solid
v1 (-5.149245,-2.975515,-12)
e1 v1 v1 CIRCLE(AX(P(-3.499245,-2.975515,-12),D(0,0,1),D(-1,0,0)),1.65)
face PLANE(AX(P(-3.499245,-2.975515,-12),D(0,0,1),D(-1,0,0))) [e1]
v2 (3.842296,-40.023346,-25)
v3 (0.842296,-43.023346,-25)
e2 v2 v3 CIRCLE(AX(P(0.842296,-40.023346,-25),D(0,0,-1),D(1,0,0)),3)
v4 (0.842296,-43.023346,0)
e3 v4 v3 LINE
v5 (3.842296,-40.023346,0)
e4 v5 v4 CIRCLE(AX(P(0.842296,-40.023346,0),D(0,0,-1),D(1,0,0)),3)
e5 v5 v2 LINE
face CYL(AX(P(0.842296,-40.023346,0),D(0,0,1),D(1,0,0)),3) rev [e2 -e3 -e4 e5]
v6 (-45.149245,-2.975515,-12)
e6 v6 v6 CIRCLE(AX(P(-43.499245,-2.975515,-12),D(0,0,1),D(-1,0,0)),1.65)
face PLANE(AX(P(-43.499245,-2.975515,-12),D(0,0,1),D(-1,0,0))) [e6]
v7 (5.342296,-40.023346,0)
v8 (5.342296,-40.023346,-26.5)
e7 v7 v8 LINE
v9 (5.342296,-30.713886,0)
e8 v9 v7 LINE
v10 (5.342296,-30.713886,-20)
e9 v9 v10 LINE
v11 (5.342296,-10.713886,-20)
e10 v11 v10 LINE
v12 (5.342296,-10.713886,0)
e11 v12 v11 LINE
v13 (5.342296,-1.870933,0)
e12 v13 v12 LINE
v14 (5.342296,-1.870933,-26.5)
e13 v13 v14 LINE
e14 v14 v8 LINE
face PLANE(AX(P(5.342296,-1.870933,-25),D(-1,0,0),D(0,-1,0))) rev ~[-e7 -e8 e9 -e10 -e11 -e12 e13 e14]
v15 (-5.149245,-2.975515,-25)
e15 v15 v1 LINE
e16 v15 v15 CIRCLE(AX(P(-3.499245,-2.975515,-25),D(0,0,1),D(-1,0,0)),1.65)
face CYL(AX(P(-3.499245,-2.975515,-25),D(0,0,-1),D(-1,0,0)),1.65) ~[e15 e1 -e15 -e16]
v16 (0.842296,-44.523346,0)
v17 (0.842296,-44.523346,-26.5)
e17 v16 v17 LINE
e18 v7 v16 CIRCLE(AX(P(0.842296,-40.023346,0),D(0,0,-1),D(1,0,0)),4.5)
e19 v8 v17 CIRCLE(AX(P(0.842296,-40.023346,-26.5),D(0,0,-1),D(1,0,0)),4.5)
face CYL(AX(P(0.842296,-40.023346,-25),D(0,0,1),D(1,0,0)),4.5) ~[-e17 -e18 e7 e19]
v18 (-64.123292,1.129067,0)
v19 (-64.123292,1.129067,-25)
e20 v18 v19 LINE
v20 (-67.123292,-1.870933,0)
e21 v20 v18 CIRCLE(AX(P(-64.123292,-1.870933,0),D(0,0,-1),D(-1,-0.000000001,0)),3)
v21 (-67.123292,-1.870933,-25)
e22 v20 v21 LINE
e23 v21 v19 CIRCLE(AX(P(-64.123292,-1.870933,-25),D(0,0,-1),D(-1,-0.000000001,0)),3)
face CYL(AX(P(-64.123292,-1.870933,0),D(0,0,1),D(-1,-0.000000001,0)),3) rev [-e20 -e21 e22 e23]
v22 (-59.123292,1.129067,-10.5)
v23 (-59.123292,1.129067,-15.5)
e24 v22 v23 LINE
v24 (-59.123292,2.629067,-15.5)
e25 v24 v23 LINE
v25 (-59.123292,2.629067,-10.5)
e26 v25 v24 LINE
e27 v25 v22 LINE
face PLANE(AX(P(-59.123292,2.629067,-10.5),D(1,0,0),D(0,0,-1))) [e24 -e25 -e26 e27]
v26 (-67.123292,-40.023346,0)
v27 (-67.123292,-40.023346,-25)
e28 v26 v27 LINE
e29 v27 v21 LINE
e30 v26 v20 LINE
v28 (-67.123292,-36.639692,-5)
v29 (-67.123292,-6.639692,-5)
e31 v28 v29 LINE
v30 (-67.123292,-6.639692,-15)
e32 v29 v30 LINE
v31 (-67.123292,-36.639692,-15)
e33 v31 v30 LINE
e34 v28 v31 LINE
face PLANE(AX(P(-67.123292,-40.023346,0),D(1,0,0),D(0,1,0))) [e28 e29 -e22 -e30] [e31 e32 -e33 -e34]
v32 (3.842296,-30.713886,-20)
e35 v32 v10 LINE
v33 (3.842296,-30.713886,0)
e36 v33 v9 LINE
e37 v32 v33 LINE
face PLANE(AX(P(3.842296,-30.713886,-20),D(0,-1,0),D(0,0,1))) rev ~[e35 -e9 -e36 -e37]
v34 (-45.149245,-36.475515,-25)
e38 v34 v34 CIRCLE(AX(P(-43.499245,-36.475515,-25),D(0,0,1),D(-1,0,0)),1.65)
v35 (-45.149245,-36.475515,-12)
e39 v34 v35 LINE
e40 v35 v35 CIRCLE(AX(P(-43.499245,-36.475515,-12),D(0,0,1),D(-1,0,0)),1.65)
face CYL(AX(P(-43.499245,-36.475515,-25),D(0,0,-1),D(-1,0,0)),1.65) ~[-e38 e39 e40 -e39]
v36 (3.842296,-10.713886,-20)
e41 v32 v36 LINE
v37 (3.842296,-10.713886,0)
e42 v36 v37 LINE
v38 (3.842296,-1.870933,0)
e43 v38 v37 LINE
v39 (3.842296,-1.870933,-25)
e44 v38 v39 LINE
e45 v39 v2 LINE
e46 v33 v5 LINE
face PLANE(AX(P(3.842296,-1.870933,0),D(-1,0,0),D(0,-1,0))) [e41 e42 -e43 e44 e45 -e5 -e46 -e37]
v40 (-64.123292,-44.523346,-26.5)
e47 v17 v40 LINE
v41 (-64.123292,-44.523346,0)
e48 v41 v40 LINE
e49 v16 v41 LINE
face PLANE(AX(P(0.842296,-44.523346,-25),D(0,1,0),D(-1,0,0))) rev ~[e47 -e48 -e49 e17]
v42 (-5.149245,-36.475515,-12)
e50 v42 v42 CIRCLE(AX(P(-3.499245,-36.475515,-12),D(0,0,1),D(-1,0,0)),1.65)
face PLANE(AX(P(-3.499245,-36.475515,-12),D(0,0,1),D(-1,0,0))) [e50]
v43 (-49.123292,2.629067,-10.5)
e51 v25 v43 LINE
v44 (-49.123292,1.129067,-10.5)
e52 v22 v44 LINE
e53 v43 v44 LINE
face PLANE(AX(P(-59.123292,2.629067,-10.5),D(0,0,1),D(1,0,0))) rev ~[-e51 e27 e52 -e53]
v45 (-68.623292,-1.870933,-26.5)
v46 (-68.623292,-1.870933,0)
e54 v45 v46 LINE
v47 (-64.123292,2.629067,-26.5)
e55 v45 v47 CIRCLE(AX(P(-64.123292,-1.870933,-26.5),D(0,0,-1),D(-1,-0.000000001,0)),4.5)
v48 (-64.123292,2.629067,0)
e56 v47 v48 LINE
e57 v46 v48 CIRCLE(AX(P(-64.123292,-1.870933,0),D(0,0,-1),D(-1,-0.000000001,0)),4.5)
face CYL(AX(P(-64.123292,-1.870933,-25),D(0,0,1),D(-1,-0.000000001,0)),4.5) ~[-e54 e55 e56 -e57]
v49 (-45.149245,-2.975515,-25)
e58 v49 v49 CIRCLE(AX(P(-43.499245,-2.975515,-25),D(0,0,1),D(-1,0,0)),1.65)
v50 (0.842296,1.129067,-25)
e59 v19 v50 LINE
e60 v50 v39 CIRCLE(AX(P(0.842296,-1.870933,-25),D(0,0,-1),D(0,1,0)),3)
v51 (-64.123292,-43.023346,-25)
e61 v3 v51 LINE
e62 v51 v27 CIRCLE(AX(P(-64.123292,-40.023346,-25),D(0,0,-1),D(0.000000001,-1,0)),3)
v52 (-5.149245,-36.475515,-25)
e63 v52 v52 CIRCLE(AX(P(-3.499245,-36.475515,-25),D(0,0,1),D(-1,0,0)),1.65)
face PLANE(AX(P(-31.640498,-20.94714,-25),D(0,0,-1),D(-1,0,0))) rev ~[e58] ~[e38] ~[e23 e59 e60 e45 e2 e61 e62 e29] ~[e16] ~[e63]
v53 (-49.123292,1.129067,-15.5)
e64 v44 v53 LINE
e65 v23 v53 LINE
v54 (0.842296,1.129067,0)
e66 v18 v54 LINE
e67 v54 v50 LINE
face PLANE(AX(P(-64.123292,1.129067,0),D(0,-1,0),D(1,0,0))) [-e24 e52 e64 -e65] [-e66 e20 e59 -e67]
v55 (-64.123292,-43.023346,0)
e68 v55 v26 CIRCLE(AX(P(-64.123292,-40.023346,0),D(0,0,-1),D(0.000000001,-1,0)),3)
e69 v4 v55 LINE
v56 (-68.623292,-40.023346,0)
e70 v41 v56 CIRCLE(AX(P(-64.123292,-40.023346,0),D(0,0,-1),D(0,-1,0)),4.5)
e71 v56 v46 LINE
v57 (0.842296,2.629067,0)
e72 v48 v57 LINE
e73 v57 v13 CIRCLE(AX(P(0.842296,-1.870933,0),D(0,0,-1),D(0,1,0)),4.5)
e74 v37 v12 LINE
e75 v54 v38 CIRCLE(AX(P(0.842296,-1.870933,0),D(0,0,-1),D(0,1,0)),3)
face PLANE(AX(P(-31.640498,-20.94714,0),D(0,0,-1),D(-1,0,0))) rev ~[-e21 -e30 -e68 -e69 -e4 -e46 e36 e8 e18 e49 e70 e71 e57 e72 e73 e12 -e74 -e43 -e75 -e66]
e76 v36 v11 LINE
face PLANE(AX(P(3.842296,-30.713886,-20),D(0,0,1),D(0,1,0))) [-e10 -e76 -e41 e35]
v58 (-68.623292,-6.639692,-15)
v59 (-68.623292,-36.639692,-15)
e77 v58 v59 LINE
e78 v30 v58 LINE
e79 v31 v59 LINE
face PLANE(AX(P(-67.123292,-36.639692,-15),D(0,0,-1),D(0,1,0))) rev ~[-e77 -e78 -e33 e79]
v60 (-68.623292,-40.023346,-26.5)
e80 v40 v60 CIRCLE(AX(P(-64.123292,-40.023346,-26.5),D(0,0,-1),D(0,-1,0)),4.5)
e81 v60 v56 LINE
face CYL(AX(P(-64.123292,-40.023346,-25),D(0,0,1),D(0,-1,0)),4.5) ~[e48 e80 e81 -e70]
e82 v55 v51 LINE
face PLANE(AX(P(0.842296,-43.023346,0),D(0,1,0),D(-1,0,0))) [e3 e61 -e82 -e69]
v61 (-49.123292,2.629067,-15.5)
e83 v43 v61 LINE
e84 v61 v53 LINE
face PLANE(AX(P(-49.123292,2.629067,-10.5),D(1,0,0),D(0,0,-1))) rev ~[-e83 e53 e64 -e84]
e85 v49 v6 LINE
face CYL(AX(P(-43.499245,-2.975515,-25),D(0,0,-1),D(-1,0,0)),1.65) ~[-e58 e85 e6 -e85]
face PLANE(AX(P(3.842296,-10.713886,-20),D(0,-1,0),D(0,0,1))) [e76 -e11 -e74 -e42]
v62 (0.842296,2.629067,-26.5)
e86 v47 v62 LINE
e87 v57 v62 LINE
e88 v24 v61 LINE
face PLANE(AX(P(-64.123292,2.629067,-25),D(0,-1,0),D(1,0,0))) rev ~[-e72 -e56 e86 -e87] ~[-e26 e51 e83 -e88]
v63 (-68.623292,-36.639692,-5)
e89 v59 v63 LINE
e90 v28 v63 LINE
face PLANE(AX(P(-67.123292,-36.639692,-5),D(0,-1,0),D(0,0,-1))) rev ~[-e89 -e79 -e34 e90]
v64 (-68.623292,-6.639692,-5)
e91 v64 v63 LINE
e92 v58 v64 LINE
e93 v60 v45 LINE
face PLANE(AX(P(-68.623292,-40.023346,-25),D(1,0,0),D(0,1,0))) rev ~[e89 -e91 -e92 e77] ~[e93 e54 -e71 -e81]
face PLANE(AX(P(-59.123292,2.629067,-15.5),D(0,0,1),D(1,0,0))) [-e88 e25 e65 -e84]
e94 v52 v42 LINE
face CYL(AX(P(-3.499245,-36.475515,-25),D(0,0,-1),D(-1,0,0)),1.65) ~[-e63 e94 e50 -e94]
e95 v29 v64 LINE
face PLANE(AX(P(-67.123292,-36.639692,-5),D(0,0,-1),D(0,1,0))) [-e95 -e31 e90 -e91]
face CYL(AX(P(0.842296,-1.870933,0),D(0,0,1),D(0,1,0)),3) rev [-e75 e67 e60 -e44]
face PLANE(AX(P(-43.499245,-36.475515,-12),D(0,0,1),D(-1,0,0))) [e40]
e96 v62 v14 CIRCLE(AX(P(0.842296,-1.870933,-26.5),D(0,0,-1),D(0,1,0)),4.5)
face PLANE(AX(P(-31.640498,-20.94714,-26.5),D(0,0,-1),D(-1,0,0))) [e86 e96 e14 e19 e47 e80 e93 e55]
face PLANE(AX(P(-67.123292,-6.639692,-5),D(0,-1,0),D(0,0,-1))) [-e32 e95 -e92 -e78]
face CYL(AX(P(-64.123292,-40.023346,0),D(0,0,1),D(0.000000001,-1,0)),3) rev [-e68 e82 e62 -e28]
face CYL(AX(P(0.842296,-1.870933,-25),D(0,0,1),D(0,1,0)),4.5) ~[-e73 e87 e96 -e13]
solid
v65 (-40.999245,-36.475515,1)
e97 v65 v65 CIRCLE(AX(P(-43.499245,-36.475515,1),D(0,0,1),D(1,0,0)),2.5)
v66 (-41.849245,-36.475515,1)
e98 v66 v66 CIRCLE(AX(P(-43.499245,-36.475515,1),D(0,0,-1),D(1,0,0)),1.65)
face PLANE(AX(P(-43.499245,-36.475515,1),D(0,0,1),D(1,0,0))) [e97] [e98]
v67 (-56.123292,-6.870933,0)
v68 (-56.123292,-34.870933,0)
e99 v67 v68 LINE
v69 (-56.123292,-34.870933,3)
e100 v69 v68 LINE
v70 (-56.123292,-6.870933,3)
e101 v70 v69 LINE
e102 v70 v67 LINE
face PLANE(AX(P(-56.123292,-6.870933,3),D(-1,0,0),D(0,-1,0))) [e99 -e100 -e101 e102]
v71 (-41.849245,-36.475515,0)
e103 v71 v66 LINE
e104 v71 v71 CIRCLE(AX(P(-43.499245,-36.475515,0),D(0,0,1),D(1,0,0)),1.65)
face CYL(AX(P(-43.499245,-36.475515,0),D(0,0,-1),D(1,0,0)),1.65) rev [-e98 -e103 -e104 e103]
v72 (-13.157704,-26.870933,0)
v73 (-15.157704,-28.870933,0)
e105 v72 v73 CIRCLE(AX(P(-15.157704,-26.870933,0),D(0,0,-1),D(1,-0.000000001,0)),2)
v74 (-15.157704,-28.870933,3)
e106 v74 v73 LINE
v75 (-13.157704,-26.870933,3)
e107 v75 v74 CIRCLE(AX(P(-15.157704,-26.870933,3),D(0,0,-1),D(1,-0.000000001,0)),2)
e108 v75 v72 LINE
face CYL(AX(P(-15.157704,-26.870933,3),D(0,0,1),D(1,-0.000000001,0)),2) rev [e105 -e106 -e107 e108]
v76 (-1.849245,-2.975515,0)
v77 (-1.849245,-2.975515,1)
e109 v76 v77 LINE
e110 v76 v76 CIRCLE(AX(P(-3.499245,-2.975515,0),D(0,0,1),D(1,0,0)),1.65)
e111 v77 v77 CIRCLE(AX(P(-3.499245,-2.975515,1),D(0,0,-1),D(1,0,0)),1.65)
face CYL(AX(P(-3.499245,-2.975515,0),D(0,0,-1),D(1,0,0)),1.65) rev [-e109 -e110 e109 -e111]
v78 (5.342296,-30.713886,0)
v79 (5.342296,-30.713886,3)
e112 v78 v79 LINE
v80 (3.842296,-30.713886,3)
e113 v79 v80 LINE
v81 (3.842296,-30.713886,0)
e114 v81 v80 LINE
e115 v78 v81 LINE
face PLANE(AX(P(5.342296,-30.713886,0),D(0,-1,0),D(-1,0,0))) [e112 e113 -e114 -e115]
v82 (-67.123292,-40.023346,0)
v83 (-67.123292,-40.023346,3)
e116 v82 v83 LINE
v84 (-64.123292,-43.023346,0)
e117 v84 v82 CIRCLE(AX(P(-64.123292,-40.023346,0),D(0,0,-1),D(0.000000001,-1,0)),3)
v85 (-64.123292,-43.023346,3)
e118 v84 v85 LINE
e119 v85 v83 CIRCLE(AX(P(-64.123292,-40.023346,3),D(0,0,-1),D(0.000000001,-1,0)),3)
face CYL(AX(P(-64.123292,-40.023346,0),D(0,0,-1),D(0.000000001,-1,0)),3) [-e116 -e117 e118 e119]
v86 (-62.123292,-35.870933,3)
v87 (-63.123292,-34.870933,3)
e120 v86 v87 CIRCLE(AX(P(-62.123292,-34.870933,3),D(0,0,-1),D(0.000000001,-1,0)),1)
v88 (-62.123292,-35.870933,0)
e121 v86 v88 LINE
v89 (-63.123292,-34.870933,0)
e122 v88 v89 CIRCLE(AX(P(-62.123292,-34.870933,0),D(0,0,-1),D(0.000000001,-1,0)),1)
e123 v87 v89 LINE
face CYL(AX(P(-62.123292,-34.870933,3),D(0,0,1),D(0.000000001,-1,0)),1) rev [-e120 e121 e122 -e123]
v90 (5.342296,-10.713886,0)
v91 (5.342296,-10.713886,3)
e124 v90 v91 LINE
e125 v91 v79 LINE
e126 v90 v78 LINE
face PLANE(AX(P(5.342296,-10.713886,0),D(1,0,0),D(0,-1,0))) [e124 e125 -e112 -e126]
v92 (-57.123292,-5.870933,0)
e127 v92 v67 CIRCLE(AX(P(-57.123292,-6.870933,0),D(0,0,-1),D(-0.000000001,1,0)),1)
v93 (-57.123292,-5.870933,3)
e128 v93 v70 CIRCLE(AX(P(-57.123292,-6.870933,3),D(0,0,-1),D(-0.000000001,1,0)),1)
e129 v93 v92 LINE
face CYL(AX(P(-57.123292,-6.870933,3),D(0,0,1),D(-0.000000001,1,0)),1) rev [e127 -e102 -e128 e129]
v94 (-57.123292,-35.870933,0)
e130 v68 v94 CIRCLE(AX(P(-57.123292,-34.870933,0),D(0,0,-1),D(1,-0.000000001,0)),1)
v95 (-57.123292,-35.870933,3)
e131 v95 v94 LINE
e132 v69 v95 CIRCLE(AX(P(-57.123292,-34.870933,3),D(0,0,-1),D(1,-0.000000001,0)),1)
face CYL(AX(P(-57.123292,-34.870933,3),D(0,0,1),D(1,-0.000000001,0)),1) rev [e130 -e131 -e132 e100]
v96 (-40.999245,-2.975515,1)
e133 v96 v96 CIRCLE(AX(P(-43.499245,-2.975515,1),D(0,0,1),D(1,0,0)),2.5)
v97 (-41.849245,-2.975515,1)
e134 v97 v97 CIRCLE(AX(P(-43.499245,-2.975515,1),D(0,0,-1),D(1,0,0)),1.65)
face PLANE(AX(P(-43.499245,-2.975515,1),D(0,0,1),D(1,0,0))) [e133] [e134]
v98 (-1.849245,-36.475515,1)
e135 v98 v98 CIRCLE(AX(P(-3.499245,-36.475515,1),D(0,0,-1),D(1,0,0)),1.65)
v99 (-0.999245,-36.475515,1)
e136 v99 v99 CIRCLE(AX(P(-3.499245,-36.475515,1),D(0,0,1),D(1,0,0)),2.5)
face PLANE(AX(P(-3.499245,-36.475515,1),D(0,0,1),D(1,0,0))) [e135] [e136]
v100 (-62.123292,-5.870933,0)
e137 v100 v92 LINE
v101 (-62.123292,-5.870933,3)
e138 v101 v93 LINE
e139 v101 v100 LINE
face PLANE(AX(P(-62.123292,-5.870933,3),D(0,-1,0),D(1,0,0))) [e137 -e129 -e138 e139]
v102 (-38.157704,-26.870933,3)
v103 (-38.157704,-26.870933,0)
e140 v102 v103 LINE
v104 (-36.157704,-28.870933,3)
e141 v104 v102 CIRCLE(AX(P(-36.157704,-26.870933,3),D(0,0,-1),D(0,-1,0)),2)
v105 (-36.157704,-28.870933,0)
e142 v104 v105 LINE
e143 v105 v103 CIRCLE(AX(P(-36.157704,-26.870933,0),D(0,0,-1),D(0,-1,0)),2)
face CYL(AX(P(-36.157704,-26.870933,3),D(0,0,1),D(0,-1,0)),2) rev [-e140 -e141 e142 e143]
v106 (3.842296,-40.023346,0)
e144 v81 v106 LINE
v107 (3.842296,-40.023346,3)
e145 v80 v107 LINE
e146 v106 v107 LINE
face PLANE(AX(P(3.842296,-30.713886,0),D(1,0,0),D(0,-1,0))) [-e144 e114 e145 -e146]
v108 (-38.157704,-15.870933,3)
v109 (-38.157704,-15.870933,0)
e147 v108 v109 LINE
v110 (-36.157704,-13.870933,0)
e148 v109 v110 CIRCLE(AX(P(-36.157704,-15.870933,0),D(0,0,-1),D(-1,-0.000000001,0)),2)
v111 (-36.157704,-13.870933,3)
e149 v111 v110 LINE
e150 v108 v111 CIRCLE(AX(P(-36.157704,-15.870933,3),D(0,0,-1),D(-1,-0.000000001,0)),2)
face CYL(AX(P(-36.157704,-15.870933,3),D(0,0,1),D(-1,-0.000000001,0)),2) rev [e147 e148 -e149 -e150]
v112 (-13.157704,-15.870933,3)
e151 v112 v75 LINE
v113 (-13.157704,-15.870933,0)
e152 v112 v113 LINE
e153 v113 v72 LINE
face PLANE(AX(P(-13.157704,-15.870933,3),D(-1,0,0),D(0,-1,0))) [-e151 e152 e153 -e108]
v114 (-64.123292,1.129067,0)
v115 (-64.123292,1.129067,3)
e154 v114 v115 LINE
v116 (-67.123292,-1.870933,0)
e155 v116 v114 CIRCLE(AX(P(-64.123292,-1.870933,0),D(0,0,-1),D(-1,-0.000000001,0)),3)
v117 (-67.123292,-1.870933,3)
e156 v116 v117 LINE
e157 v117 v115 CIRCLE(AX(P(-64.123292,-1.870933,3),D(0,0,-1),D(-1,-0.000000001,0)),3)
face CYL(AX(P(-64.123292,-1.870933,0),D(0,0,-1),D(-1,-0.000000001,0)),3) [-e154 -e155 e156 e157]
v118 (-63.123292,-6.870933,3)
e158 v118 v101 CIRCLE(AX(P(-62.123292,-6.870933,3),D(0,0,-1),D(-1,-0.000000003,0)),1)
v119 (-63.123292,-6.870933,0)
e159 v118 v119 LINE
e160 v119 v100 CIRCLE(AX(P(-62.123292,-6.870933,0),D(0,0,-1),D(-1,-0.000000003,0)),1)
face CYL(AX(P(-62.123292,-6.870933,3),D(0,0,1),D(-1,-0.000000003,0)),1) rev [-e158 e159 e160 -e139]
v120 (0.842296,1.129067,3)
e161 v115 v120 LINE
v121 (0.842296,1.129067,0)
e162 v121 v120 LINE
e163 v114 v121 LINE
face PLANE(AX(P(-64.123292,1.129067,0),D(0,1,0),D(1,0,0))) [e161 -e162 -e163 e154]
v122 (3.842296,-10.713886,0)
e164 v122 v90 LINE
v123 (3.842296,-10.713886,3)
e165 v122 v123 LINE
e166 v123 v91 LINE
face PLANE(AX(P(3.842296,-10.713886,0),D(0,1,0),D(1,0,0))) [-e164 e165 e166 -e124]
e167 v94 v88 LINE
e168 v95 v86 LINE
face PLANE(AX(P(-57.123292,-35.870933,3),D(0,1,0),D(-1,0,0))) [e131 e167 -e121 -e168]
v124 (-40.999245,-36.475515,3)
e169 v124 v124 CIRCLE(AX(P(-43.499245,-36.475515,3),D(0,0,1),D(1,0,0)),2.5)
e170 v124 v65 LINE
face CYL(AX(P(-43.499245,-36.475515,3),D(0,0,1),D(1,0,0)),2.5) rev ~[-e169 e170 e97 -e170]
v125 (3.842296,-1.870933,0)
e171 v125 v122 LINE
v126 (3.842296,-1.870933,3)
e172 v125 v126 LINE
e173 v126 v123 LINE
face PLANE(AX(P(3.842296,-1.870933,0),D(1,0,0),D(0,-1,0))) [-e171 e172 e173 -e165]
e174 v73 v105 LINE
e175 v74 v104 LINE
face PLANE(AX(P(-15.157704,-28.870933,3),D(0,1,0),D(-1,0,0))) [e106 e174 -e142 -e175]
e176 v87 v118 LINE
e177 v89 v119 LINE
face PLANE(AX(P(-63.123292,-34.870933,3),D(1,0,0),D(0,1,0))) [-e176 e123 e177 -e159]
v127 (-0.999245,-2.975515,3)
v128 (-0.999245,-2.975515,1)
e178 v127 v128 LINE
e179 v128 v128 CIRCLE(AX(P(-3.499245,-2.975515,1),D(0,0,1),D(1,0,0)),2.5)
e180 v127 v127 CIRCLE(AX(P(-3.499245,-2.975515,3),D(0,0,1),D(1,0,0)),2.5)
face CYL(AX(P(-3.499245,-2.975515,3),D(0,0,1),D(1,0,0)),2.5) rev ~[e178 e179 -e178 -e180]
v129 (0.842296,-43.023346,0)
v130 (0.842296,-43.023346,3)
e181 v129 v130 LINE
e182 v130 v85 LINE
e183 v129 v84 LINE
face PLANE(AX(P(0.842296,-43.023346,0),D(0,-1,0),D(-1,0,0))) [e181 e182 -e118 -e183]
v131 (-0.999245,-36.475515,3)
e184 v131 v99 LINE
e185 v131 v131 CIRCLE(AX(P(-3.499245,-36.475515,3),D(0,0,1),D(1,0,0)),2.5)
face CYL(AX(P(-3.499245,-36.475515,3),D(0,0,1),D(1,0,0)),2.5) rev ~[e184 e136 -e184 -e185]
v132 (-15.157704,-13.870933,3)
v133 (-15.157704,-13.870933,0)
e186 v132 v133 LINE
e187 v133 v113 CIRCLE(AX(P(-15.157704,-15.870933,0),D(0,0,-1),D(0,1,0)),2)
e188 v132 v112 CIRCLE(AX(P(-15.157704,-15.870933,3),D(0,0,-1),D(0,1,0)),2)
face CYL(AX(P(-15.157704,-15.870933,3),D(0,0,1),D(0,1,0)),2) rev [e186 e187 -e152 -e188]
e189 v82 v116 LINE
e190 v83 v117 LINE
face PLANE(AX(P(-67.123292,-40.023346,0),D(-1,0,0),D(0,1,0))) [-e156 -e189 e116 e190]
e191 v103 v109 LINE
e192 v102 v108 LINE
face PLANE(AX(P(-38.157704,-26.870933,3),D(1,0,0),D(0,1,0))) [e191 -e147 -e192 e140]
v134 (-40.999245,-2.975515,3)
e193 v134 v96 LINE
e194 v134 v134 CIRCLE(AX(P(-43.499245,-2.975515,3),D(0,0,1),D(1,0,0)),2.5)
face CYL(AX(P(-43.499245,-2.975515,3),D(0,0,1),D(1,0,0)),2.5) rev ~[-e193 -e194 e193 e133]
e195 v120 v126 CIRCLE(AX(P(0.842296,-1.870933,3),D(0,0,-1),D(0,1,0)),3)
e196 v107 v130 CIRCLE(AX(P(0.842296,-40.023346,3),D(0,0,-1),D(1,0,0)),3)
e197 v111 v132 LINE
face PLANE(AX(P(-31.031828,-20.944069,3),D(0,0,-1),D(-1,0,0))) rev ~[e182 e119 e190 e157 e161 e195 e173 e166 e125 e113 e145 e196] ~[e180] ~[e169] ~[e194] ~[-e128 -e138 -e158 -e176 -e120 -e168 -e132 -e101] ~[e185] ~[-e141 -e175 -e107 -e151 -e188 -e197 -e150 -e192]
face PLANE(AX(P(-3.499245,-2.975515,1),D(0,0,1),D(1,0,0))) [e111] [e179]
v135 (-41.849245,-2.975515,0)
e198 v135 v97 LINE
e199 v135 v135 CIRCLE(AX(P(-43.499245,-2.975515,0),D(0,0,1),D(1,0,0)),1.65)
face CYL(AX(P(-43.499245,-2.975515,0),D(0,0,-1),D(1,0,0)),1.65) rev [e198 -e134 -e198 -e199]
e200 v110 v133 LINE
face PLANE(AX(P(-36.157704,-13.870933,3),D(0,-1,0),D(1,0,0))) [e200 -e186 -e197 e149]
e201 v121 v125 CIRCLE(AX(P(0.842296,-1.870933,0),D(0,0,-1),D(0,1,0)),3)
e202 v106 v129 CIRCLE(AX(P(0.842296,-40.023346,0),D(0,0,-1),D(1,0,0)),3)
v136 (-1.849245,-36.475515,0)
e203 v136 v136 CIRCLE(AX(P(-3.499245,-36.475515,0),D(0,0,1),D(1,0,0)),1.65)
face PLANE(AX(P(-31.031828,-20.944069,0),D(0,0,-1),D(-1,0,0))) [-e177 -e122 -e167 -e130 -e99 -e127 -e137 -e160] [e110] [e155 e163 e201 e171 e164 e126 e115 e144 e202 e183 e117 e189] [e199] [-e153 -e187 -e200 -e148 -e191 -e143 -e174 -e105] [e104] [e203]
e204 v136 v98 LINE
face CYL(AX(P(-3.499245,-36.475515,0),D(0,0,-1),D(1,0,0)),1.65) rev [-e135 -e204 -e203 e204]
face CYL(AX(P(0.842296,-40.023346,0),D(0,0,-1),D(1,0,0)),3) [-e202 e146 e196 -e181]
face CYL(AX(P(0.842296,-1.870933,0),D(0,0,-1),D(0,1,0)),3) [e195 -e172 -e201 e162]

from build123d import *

# Parameters (mm, degrees)
EXTRUDE_3_DEPTH     = 25
EXTRUDE_4_DEPTH     = 1.5
SKETCH_3_R          = 1.65
EXTRUDE_6_DEPTH     = 13
CUT_EXTRUDE_1_REACH = 91.083
SKETCH_4_W          = 10
SKETCH_4_H          = 30
CUT_EXTRUDE_2_REACH = 91.083
SKETCH_5_W          = 20
SKETCH_5_H          = 20
CUT_EXTRUDE_3_REACH = 89.377
SKETCH_6_W          = 10
SKETCH_6_H          = 5
EXTRUDE_7_DEPTH     = 3
CUT_EXTRUDE_START   = -3
SKETCH_8_R          = 1.65
CUT_EXTRUDE_5_DEPTH = 3
CUT_EXTRUDE_6_DEPTH = 3
CUT_EXTRUDE_7_DEPTH = 3
SKETCH_11_R         = 2.5
CUT_EXTRUDE_8_DEPTH = 2


with BuildPart() as part:
    # 草图1 → 凸台-拉伸3 (new body)
    with BuildSketch(Plane.XY):
        with BuildLine():
            Line((-64.123292314, 2.629066518), (0.8422956, 2.629066518))
            ThreePointArc((0.8422956, 2.629066518), (4.024276115, 1.311047034), (5.3422956, -1.870933482))
            Line((5.3422956, -1.870933482), (5.3422956, -40.023345988))
            ThreePointArc((5.3422956, -40.023345988), (4.024276115, -43.205326503), (0.8422956, -44.523345988))
            Line((0.8422956, -44.523345988), (-64.123292314, -44.523345988))
            ThreePointArc((-64.123292314, -44.523345988), (-67.30527283, -43.205326503), (-68.623292314, -40.023345988))
            Line((-68.623292314, -40.023345988), (-68.623292314, -1.870933482))
            ThreePointArc((-68.623292314, -1.870933482), (-67.30527283, 1.311047034), (-64.123292314, 2.629066518))
        make_face()
        with BuildLine():
            Line((-64.123292314, 1.129066518), (0.8422956, 1.129066518))
            ThreePointArc((0.8422956, 1.129066518), (2.963615943, 0.250386862), (3.8422956, -1.870933482))
            Line((3.8422956, -1.870933482), (3.8422956, -40.023345988))
            ThreePointArc((3.8422956, -40.023345988), (2.963615943, -42.144666332), (0.8422956, -43.023345988))
            Line((0.8422956, -43.023345988), (-64.123292314, -43.023345988))
            ThreePointArc((-64.123292314, -43.023345988), (-66.244612658, -42.144666332), (-67.123292314, -40.023345988))
            Line((-67.123292314, -40.023345988), (-67.123292314, -1.870933482))
            ThreePointArc((-67.123292314, -1.870933482), (-66.244612658, 0.250386862), (-64.123292314, 1.129066518))
        make_face(mode=Mode.SUBTRACT)
    extrude(amount=-EXTRUDE_3_DEPTH)

    # 草图2 → 凸台-拉伸4 (add)
    with BuildSketch(Plane(origin=(0, 0, -25), x_dir=(-1, 0, 0), z_dir=(0, 0, -1))):
        with BuildLine():
            Line((64.123292314, 2.629066518), (-0.8422956, 2.629066518))
            ThreePointArc((-0.8422956, 2.629066518), (-4.024276115, 1.311047034), (-5.3422956, -1.870933482))
            Line((-5.3422956, -1.870933482), (-5.3422956, -40.023345988))
            ThreePointArc((-5.3422956, -40.023345988), (-4.024276115, -43.205326503), (-0.8422956, -44.523345988))
            Line((-0.8422956, -44.523345988), (64.123292314, -44.523345988))
            ThreePointArc((64.123292314, -44.523345988), (67.30527283, -43.205326503), (68.623292314, -40.023345988))
            Line((68.623292314, -40.023345988), (68.623292314, -1.870933482))
            ThreePointArc((68.623292314, -1.870933482), (67.30527283, 1.311047034), (64.123292314, 2.629066518))
        make_face()
    extrude(amount=EXTRUDE_4_DEPTH)

    # 草图3 → 凸台-拉伸6 (add)
    with BuildSketch(Plane.XY.offset(-25)):
        with Locations(Location((-43.499244891, -2.975515145, 0), (0, 0, 180))):
            Circle(SKETCH_3_R)
        with Locations(Location((-3.499244891, -2.975515145, 0), (0, 0, 180))):
            Circle(SKETCH_3_R)
        with Locations(Location((-3.499244891, -36.475515145, 0), (0, 0, 180))):
            Circle(SKETCH_3_R)
        with Locations(Location((-43.499244891, -36.475515145, 0), (0, 0, 180))):
            Circle(SKETCH_3_R)
    extrude(amount=EXTRUDE_6_DEPTH)

    # 草图4 → 切除-拉伸1 (cut, up to next)
    with BuildSketch(Plane(origin=(-67.123292314, 0, 0), x_dir=(0, 0, -1), z_dir=(1, 0, 0)), mode=Mode.PRIVATE) as cut_extrude_1_sk1:
        with Locations((10, -21.6396923)):
            Rectangle(SKETCH_4_W, SKETCH_4_H)
    cut_extrude_1_tool1 = extrude(cut_extrude_1_sk1.sketch, amount=-CUT_EXTRUDE_1_REACH, mode=Mode.PRIVATE) & part.part
    add(cut_extrude_1_tool1.solids().sort_by_distance((-67.123292, -21.639692, -10))[0], mode=Mode.SUBTRACT)

    # 草图5 → 切除-拉伸2 (cut, up to next)
    with BuildSketch(Plane.ZY.offset(-3.8422956), mode=Mode.PRIVATE) as cut_extrude_2_sk1:
        with Locations((-10, -20.713886057)):
            Rectangle(SKETCH_5_W, SKETCH_5_H)
    cut_extrude_2_tool1 = extrude(cut_extrude_2_sk1.sketch, amount=-CUT_EXTRUDE_2_REACH, mode=Mode.PRIVATE) & part.part
    add(cut_extrude_2_tool1.solids().sort_by_distance((3.842296, -20.713886, -10))[0], mode=Mode.SUBTRACT)

    # 草图6 → 切除-拉伸3 (cut, up to next)
    with BuildSketch(Plane(origin=(0, 2.629066518, 0), x_dir=(1, 0, 0), z_dir=(0, 1, 0)), mode=Mode.PRIVATE) as cut_extrude_3_sk1:
        with Locations((-54.123292314, 13)):
            Rectangle(SKETCH_6_W, SKETCH_6_H)
    cut_extrude_3_tool1 = extrude(cut_extrude_3_sk1.sketch, amount=-CUT_EXTRUDE_3_REACH, mode=Mode.PRIVATE) & part.part
    add(cut_extrude_3_tool1.solids().sort_by_distance((-54.123292, 2.629067, -13))[0], mode=Mode.SUBTRACT)


with BuildPart() as body_2:
    # 草图7 → 凸台-拉伸7 (new body)
    with BuildSketch(Plane.XY):
        with BuildLine():
            Line((5.3422956, -10.713886057), (5.3422956, -30.713886057))
            Line((5.3422956, -30.713886057), (3.8422956, -30.713886057))
            Line((3.8422956, -30.713886057), (3.8422956, -40.023345988))
            ThreePointArc((3.8422956, -40.023345988), (2.963615943, -42.144666332), (0.8422956, -43.023345988))
            Line((0.8422956, -43.023345988), (-64.123292314, -43.023345988))
            ThreePointArc((-64.123292314, -43.023345988), (-66.244612658, -42.144666332), (-67.123292314, -40.023345988))
            Line((-67.123292314, -40.023345988), (-67.123292314, -1.870933482))
            ThreePointArc((-67.123292314, -1.870933482), (-66.244612658, 0.250386862), (-64.123292314, 1.129066518))
            Line((-64.123292314, 1.129066518), (0.8422956, 1.129066518))
            ThreePointArc((0.8422956, 1.129066518), (2.963615943, 0.250386862), (3.8422956, -1.870933482))
            Line((3.8422956, -1.870933482), (3.8422956, -10.713886057))
            Line((3.8422956, -10.713886057), (5.3422956, -10.713886057))
        make_face()
    extrude(amount=EXTRUDE_7_DEPTH)

    # 草图8 → 切除-拉伸5 (cut)
    with BuildSketch(Plane.XY.offset(3).offset(CUT_EXTRUDE_START)):
        with Locations((-43.499244891, -2.975515145)):
            Circle(SKETCH_8_R)
        with Locations((-43.499244891, -36.475515145)):
            Circle(SKETCH_8_R)
        with Locations((-3.499244891, -2.975515145)):
            Circle(SKETCH_8_R)
        with Locations((-3.499244891, -36.475515145)):
            Circle(SKETCH_8_R)
    extrude(amount=CUT_EXTRUDE_5_DEPTH, mode=Mode.SUBTRACT)

    # 草图9 → 切除-拉伸6 (cut)
    with BuildSketch(Plane.XY.offset(3)):
        with BuildLine():
            Line((-62.123292314, -5.870933482), (-57.123292314, -5.870933482))
            ThreePointArc((-57.123292314, -5.870933482), (-56.416185533, -6.1638267), (-56.123292314, -6.870933482))
            Line((-56.123292314, -6.870933482), (-56.123292314, -34.870933482))
            ThreePointArc((-56.123292314, -34.870933482), (-56.416185533, -35.578040263), (-57.123292314, -35.870933482))
            Line((-57.123292314, -35.870933482), (-62.123292314, -35.870933482))
            ThreePointArc((-62.123292314, -35.870933482), (-62.830399096, -35.578040263), (-63.123292314, -34.870933482))
            Line((-63.123292314, -34.870933482), (-63.123292314, -6.870933482))
            ThreePointArc((-63.123292314, -6.870933482), (-62.830399096, -6.1638267), (-62.123292314, -5.870933482))
        make_face()
    extrude(amount=-CUT_EXTRUDE_6_DEPTH, mode=Mode.SUBTRACT)

    # 草图10 → 切除-拉伸7 (cut)
    with BuildSketch(Plane.XY.offset(3)):
        with BuildLine():
            Line((-36.1577044, -13.870933482), (-15.1577044, -13.870933482))
            ThreePointArc((-15.1577044, -13.870933482), (-13.743490838, -14.456719919), (-13.1577044, -15.870933482))
            Line((-13.1577044, -15.870933482), (-13.1577044, -26.870933482))
            ThreePointArc((-13.1577044, -26.870933482), (-13.743490838, -28.285147044), (-15.1577044, -28.870933482))
            Line((-15.1577044, -28.870933482), (-36.1577044, -28.870933482))
            ThreePointArc((-36.1577044, -28.870933482), (-37.571917963, -28.285147044), (-38.1577044, -26.870933482))
            Line((-38.1577044, -26.870933482), (-38.1577044, -15.870933482))
            ThreePointArc((-38.1577044, -15.870933482), (-37.571917963, -14.456719919), (-36.1577044, -13.870933482))
        make_face()
    extrude(amount=-CUT_EXTRUDE_7_DEPTH, mode=Mode.SUBTRACT)

    # 草图11 → 切除-拉伸8 (cut)
    with BuildSketch(Plane.XY.offset(3)):
        with Locations((-3.499244891, -36.475515145)):
            Circle(SKETCH_11_R)
        with Locations((-3.499244891, -2.975515145)):
            Circle(SKETCH_11_R)
        with Locations((-43.499244891, -2.975515145)):
            Circle(SKETCH_11_R)
        with Locations((-43.499244891, -36.475515145)):
            Circle(SKETCH_11_R)
    extrude(amount=-CUT_EXTRUDE_8_DEPTH, mode=Mode.SUBTRACT)


solid = Compound([part.part, body_2.part])
